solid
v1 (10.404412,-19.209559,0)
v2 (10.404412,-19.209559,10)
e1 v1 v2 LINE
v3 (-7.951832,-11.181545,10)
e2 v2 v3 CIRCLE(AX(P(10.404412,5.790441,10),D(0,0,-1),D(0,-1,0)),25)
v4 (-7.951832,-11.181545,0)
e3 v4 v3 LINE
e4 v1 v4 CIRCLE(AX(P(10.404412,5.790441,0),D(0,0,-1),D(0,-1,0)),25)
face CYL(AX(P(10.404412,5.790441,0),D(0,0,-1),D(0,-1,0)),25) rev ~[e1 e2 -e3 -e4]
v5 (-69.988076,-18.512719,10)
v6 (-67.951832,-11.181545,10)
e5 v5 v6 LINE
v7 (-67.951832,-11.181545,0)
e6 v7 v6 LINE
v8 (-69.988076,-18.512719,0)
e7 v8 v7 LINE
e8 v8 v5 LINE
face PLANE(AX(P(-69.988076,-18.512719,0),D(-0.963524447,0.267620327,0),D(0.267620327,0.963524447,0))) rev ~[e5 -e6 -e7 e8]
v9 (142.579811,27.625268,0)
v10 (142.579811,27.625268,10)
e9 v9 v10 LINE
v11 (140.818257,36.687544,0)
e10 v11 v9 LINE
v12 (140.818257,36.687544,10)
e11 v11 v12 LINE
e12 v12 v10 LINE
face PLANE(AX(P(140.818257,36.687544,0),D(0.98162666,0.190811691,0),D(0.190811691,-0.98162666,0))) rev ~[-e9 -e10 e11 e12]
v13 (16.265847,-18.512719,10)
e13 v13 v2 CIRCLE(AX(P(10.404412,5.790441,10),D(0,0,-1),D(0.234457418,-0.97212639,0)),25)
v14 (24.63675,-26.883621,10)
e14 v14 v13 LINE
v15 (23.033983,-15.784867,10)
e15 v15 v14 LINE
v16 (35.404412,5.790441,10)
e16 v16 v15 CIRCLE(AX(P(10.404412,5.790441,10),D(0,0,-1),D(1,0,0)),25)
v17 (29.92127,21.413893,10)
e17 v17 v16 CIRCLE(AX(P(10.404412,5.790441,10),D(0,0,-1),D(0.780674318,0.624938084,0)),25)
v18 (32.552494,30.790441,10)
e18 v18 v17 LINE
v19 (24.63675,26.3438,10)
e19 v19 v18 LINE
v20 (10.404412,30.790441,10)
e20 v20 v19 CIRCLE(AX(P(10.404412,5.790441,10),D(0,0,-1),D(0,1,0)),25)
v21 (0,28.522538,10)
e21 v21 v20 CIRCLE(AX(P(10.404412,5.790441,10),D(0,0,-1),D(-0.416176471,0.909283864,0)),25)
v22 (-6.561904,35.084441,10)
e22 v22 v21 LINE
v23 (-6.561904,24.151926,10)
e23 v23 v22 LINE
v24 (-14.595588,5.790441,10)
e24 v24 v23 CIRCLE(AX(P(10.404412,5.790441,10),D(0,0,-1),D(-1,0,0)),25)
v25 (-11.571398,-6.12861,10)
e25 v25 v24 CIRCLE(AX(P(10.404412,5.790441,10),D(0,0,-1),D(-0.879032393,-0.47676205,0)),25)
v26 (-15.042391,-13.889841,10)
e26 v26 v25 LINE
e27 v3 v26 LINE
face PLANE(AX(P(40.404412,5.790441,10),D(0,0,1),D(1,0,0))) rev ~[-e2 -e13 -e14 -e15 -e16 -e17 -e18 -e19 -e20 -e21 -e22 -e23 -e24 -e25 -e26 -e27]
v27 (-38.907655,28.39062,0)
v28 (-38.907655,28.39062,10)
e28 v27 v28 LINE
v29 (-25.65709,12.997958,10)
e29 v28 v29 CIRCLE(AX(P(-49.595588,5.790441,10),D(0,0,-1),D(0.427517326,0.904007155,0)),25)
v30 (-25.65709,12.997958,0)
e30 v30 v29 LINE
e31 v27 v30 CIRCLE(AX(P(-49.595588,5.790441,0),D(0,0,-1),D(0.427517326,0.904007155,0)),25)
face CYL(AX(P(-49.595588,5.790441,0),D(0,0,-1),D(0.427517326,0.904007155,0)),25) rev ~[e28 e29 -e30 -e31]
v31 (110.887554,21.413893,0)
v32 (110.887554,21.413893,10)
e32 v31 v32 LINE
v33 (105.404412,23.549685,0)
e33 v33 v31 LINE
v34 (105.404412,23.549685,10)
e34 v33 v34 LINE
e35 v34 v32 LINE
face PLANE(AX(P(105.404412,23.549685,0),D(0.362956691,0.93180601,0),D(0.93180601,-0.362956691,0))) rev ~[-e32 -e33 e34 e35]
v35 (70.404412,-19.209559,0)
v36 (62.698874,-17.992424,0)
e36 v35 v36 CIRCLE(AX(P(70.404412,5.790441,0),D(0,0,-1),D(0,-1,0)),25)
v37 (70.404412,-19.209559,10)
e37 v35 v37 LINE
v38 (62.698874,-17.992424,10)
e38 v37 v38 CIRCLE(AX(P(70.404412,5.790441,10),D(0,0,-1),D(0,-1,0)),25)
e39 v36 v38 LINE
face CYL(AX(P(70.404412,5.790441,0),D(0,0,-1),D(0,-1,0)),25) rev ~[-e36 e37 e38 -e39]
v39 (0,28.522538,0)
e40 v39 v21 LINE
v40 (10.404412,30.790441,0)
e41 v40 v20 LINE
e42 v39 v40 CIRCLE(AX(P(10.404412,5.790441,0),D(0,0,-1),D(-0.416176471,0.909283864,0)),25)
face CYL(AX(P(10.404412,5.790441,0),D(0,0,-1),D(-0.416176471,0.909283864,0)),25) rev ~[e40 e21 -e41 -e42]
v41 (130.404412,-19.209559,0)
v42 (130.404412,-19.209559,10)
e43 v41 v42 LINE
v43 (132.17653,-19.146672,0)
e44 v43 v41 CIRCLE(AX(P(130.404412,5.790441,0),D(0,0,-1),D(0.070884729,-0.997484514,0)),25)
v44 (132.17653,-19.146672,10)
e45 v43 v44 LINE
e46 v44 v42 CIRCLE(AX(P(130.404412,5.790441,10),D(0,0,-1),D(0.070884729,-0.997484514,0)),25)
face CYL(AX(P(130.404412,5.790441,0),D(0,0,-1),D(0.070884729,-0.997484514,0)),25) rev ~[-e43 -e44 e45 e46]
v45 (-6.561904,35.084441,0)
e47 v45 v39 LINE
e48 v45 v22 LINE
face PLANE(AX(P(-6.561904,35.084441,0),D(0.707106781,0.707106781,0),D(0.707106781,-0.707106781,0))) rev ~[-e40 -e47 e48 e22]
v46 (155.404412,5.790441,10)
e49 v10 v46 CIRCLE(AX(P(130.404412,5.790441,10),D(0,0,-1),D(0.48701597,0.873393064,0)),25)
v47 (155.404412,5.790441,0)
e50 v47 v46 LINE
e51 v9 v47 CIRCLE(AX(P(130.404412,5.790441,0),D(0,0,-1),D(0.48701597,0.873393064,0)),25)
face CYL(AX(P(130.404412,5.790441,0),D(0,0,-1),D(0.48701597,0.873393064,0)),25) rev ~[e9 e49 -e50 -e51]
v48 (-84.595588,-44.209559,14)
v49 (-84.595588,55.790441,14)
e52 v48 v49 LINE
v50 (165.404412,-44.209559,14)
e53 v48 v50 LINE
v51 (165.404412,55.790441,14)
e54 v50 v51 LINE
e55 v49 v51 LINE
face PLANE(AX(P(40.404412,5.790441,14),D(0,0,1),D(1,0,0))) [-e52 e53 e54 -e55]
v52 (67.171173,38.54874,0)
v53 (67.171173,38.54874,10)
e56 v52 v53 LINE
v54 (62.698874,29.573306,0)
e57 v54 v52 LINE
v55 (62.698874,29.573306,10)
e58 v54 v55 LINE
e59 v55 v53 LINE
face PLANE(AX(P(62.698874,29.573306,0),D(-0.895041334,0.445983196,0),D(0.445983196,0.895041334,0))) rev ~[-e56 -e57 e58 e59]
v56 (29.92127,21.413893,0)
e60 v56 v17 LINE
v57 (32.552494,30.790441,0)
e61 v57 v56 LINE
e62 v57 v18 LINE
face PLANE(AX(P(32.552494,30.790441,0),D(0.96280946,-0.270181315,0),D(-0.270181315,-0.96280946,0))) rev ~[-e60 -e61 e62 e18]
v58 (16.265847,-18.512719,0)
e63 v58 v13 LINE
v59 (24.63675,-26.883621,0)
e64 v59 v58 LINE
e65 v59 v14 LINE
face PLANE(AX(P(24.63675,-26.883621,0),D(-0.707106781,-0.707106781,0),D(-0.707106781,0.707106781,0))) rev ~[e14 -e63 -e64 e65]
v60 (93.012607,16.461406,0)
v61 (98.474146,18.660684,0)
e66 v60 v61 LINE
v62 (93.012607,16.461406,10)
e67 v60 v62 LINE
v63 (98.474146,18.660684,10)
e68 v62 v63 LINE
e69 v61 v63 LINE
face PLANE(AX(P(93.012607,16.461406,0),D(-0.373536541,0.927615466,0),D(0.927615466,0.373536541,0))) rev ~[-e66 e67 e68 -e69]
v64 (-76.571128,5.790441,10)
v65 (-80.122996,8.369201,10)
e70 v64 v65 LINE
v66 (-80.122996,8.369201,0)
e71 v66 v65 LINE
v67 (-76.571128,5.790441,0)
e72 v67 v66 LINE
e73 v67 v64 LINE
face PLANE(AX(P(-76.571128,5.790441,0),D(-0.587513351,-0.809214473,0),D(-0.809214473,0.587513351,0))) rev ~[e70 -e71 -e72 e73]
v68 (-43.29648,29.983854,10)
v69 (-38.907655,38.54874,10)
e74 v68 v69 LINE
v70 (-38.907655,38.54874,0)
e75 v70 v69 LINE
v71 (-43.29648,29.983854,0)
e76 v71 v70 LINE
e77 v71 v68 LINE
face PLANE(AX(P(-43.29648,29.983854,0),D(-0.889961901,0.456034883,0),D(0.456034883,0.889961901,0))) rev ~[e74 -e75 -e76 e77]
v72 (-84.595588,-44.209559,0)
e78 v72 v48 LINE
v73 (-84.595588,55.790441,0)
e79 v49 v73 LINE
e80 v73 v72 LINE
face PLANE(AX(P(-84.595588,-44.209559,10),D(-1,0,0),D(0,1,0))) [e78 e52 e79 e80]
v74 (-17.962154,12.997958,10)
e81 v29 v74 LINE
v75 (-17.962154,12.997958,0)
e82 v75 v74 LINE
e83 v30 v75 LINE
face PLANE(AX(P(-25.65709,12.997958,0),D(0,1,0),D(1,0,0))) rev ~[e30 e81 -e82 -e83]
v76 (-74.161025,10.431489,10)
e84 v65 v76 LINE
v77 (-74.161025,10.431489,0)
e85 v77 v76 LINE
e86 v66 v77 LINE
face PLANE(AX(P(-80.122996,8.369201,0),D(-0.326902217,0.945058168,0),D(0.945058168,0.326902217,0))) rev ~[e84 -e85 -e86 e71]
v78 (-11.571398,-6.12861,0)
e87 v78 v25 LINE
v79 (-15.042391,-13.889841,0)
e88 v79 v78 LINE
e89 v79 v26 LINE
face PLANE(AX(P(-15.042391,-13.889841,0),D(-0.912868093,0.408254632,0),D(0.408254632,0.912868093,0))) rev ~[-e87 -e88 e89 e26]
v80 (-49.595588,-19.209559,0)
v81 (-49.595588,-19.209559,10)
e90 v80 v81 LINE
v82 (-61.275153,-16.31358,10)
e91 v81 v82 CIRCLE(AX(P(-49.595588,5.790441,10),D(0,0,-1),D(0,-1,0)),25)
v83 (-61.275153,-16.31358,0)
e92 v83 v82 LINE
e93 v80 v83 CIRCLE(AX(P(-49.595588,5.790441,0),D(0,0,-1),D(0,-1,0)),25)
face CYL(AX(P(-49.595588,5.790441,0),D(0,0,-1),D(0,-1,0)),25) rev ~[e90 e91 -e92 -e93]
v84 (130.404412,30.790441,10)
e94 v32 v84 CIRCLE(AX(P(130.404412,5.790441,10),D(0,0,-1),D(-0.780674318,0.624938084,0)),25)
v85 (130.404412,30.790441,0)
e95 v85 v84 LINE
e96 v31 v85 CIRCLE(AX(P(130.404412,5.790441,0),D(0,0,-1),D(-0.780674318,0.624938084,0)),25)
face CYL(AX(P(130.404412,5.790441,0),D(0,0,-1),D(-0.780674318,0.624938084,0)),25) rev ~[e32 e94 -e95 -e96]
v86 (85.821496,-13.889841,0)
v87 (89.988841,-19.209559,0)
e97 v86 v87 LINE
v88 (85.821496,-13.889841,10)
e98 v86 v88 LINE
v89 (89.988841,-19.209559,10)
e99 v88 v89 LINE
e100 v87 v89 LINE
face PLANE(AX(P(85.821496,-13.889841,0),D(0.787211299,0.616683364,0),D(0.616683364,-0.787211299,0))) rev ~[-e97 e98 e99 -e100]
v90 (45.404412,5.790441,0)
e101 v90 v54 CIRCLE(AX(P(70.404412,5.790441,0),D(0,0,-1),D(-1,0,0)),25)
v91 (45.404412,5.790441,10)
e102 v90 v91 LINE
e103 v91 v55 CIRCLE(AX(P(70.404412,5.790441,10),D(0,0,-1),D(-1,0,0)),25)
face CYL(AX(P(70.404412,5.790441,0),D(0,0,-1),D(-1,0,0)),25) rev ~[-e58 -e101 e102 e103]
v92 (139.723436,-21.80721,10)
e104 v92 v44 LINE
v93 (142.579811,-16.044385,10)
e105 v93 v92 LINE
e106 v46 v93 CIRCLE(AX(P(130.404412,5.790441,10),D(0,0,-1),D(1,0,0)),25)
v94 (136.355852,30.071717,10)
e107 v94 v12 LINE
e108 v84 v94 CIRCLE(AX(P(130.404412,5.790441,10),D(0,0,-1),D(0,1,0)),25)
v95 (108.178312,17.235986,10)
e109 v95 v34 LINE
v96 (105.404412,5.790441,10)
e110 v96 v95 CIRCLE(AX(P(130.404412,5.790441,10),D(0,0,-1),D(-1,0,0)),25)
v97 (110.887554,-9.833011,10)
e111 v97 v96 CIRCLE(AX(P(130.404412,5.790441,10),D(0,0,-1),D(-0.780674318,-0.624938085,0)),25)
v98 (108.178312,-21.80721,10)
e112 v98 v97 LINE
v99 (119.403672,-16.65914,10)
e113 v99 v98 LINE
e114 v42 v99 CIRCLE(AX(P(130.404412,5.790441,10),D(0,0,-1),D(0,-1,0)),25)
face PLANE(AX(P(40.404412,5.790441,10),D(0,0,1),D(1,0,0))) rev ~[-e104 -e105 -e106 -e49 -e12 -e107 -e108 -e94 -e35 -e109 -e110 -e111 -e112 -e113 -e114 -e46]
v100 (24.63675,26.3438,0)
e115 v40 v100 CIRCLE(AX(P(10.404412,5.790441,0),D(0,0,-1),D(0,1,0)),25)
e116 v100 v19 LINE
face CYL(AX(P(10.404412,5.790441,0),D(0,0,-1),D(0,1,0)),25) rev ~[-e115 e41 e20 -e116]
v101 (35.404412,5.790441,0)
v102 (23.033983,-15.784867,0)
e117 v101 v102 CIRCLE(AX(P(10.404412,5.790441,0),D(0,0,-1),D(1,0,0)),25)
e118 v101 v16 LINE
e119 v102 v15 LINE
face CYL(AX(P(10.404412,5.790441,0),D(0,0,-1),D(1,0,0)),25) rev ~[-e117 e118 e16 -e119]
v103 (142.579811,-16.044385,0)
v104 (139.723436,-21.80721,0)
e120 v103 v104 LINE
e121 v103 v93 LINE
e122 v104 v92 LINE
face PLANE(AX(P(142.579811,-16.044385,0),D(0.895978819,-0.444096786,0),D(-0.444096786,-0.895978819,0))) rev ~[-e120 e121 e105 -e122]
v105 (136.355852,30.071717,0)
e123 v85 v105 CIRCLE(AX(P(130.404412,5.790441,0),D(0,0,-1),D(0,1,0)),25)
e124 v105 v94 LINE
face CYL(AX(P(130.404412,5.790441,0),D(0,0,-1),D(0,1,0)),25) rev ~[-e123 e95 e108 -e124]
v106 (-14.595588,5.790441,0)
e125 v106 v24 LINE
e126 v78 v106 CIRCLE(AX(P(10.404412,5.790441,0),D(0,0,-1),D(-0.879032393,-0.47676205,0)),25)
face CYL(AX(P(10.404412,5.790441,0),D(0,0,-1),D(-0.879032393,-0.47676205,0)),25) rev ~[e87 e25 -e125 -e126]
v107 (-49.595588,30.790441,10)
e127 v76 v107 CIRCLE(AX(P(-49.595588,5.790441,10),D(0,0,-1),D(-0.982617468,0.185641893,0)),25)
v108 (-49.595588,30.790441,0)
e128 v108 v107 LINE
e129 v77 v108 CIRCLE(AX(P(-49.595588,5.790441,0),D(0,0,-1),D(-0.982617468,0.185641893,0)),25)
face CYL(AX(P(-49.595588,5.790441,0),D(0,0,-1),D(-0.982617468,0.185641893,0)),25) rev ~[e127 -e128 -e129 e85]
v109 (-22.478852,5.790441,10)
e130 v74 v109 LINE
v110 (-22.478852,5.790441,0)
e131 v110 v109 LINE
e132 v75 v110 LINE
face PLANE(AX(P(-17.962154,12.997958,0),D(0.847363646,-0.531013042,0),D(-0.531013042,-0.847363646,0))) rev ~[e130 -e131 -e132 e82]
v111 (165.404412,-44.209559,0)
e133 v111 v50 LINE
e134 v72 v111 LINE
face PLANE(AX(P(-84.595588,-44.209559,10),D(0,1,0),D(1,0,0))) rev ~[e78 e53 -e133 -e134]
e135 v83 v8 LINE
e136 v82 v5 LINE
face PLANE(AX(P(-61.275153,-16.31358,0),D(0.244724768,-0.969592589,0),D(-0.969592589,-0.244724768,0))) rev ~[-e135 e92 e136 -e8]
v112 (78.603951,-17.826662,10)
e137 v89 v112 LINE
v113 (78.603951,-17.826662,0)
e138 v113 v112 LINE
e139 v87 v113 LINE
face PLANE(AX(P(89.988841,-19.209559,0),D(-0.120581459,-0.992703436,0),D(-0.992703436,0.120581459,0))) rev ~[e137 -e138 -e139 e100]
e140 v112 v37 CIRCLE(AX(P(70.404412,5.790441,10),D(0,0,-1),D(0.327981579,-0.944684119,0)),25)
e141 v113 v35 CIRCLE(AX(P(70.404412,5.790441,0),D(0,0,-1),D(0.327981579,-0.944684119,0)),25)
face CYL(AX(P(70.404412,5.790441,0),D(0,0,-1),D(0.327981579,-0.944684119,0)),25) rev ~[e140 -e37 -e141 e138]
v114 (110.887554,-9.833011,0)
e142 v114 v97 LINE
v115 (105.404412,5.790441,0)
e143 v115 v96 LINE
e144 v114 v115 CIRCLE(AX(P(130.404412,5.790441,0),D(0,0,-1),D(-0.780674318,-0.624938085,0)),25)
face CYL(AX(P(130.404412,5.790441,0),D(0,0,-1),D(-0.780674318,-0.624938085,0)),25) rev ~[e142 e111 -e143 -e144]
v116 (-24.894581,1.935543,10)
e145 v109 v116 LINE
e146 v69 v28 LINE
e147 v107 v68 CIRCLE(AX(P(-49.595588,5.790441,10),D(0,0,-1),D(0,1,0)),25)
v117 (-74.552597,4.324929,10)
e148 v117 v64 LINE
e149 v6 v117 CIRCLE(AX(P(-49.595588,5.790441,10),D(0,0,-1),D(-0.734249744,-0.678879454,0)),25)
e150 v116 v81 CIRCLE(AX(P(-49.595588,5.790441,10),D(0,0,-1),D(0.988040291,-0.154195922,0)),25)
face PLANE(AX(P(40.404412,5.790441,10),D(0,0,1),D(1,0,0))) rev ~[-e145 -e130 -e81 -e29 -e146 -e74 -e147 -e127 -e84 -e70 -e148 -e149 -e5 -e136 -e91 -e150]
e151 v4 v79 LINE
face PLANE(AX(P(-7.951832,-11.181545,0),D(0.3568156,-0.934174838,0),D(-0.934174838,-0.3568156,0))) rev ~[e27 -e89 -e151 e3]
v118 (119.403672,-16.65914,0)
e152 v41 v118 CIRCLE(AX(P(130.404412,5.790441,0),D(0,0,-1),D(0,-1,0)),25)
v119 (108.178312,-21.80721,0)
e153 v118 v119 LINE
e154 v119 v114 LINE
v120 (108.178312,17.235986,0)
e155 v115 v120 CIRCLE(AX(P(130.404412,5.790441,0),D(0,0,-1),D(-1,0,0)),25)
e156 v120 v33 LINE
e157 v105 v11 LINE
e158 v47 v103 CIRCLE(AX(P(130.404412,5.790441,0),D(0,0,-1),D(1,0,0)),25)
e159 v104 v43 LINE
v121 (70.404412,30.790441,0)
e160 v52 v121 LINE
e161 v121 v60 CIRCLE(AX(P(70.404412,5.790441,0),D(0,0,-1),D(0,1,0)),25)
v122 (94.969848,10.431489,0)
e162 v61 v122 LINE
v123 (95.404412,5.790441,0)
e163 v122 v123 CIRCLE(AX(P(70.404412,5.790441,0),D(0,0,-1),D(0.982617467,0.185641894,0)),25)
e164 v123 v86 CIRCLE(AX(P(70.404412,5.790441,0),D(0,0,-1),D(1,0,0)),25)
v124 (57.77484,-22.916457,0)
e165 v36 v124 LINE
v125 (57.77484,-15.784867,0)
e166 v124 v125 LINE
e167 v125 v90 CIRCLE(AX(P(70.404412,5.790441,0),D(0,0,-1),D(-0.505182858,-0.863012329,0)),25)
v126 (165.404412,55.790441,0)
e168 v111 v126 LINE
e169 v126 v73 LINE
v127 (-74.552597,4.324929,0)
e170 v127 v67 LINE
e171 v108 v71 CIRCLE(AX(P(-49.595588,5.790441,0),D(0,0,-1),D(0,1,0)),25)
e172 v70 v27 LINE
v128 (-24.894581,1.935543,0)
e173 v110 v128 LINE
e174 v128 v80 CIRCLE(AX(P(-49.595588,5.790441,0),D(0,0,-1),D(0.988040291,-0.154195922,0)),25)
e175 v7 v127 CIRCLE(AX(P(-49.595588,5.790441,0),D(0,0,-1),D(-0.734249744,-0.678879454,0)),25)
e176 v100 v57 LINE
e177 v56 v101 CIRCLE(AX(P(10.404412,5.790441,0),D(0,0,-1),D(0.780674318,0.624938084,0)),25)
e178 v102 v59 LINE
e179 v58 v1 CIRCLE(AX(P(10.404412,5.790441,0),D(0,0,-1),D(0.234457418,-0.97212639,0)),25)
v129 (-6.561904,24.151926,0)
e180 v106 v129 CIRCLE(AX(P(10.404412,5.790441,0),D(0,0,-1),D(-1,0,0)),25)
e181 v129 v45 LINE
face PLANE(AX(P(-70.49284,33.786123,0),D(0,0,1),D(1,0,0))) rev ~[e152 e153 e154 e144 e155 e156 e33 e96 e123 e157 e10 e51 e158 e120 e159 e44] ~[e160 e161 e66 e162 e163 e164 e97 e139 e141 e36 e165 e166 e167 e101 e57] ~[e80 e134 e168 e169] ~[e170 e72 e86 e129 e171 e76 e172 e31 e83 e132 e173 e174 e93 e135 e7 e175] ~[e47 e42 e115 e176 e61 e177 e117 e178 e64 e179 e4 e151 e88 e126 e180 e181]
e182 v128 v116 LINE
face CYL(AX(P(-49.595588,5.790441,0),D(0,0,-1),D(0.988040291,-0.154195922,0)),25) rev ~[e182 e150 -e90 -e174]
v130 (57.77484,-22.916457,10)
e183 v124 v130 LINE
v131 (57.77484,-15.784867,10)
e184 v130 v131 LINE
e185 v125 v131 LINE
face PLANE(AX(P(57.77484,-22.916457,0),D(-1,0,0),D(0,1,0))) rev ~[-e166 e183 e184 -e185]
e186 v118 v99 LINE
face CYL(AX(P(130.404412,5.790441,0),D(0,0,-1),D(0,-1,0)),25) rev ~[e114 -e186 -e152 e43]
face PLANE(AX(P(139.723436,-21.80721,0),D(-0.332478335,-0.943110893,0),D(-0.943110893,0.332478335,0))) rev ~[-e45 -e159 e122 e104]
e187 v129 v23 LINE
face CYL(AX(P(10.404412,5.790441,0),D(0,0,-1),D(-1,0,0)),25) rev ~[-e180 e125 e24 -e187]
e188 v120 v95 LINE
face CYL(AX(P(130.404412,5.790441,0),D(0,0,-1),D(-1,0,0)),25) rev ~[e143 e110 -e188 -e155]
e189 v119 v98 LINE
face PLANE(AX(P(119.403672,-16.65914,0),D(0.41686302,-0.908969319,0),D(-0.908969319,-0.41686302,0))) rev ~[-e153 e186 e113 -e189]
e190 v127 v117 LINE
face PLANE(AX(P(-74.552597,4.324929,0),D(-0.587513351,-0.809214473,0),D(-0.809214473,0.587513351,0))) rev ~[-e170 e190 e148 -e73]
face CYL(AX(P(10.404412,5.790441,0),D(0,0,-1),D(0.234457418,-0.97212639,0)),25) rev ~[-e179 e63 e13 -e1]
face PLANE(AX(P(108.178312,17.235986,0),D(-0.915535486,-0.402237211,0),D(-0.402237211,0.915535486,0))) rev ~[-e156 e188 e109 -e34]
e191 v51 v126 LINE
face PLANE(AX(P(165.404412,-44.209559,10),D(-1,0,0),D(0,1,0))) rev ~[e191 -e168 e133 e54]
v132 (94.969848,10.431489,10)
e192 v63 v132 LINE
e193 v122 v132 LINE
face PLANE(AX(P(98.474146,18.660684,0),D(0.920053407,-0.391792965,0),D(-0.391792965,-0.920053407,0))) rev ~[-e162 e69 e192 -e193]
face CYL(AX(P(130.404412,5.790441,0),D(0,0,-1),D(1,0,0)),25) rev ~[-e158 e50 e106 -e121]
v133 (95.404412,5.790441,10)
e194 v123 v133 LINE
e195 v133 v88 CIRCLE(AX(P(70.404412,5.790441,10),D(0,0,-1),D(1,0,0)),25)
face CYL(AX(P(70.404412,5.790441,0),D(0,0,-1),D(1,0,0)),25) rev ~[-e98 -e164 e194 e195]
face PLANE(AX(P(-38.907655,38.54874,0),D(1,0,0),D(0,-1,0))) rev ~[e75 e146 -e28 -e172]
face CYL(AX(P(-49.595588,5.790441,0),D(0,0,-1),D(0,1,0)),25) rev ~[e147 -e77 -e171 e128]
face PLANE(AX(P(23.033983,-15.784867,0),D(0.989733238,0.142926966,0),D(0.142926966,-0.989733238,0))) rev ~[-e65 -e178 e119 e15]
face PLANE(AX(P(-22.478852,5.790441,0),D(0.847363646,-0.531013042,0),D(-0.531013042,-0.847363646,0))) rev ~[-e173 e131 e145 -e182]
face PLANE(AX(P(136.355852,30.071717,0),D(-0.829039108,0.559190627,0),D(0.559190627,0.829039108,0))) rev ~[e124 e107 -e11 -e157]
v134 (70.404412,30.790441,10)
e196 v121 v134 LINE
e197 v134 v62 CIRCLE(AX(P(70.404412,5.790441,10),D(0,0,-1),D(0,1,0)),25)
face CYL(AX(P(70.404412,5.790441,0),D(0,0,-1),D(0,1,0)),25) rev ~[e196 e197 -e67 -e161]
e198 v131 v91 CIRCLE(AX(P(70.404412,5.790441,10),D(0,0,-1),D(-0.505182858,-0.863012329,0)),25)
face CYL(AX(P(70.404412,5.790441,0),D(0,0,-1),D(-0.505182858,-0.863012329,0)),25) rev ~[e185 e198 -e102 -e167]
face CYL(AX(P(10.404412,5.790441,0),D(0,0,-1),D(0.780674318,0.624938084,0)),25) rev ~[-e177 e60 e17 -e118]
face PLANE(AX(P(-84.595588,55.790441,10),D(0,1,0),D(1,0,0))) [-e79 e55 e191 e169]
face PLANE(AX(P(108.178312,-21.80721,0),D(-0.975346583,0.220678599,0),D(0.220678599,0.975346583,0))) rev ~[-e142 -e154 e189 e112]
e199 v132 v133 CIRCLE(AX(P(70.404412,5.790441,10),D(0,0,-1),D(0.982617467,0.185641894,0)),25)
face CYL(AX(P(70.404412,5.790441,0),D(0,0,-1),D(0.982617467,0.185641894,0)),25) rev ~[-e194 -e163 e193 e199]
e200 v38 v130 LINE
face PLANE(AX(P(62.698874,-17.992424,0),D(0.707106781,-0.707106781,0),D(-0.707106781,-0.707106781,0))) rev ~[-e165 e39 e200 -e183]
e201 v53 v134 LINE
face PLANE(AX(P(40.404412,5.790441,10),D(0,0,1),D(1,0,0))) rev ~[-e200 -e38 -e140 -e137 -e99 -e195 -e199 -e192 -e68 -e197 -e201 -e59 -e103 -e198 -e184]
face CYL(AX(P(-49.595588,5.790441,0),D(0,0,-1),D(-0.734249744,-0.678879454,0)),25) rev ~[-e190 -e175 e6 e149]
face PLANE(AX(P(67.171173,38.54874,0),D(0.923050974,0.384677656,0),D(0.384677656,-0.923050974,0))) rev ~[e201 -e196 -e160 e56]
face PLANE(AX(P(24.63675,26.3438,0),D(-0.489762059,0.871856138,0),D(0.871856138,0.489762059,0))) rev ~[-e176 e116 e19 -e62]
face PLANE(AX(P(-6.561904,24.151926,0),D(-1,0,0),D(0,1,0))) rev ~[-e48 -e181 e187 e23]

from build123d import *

# Parameters (mm, degrees)
BOSS_EXTRUDE2_DEPTH = 10
SKETCH2_W           = 250
SKETCH2_H           = 100
BOSS_EXTRUDE3_DEPTH = 4


with BuildPart() as part:
    # Sketch1 → Boss-Extrude2 (new body)
    with BuildSketch(Plane.XY):
        with BuildLine():
            Line((-49.595588235, 30.790441176), (-49.595588235, 55.790441176))
            Line((-49.595588235, 55.790441176), (-84.595588235, 55.790441176))
            Line((-84.595588235, 55.790441176), (-84.595588235, 5.790441176))
            Line((-84.595588235, 5.790441176), (-76.571127836, 5.790441176))
            Line((-76.571127836, 5.790441176), (-80.122995865, 8.369201143))
            Line((-80.122995865, 8.369201143), (-74.161024923, 10.431488509))
            ThreePointArc((-74.161024923, 10.431488509), (-65.548234046, 25.0391578), (-49.595588235, 30.790441176))
        make_face()
        with BuildLine():
            Line((10.404411765, 55.790441176), (-49.595588235, 55.790441176))
            Line((-49.595588235, 55.790441176), (-49.595588235, 30.790441176))
            ThreePointArc((-49.595588235, 30.790441176), (-46.420318597, 30.587974576), (-43.296479842, 29.983854194))
            Line((-43.296479842, 29.983854194), (-38.907655076, 38.5487403))
            Line((-38.907655076, 38.5487403), (-38.907655076, 28.390620042))
            ThreePointArc((-38.907655076, 28.390620042), (-30.648795615, 22.100531594), (-25.657089919, 12.997957973))
            Line((-25.657089919, 12.997957973), (-17.962154019, 12.997957973))
            Line((-17.962154019, 12.997957973), (-22.478851702, 5.790441176))
            Line((-22.478851702, 5.790441176), (-14.595588235, 5.790441176))
            ThreePointArc((-14.595588235, 5.790441176), (-12.499276658, 15.811471895), (-6.561903703, 24.151926396))
            Line((-6.561903703, 24.151926396), (-6.561903703, 35.084441479))
            Line((-6.561903703, 35.084441479), (0, 28.522537776))
            ThreePointArc((0, 28.522537776), (5.080053353, 30.216886016), (10.404411765, 30.790441176))
            Line((10.404411765, 30.790441176), (10.404411765, 55.790441176))
        make_face()
        with BuildLine():
            Line((70.404411765, 55.790441176), (10.404411765, 55.790441176))
            Line((10.404411765, 55.790441176), (10.404411765, 30.790441176))
            ThreePointArc((10.404411765, 30.790441176), (17.859813508, 29.652900917), (24.63674968, 26.343799964))
            Line((24.63674968, 26.343799964), (32.552494412, 30.790441176))
            Line((32.552494412, 30.790441176), (29.92126971, 21.41389329))
            ThreePointArc((29.92126971, 21.41389329), (33.993831518, 14.069286246), (35.404411765, 5.790441176))
            Line((35.404411765, 5.790441176), (45.404411765, 5.790441176))
            ThreePointArc((45.404411765, 5.790441176), (50.185133178, 20.493528384), (62.698873639, 29.573306483))
            Line((62.698873639, 29.573306483), (67.171172857, 38.5487403))
            Line((67.171172857, 38.5487403), (70.404411765, 30.790441176))
            Line((70.404411765, 30.790441176), (70.404411765, 55.790441176))
        make_face()
        with BuildLine():
            Line((130.404411765, 55.790441176), (70.404411765, 55.790441176))
            Line((70.404411765, 55.790441176), (70.404411765, 30.790441176))
            ThreePointArc((70.404411765, 30.790441176), (83.787720088, 26.906479118), (93.012607471, 16.461405843))
            Line((93.012607471, 16.461405843), (98.474145882, 18.660683713))
            Line((98.474145882, 18.660683713), (94.969848452, 10.431488509))
            ThreePointArc((94.969848452, 10.431488509), (95.295533849, 8.1211152), (95.404411765, 5.790441176))
            Line((95.404411765, 5.790441176), (105.404411765, 5.790441176))
            ThreePointArc((105.404411765, 5.790441176), (106.107781477, 11.678883811), (108.178312298, 17.23598627))
            Line((108.178312298, 17.23598627), (105.404411765, 23.549684511))
            Line((105.404411765, 23.549684511), (110.88755382, 21.41389329))
            ThreePointArc((110.88755382, 21.41389329), (119.578200582, 28.324707338), (130.404411765, 30.790441176))
            Line((130.404411765, 30.790441176), (130.404411765, 55.790441176))
        make_face()
        with BuildLine():
            Line((165.404411765, 55.790441176), (130.404411765, 55.790441176))
            Line((130.404411765, 55.790441176), (130.404411765, 30.790441176))
            ThreePointArc((130.404411765, 30.790441176), (133.401752606, 30.610109746), (136.355852267, 30.071717007))
            Line((136.355852267, 30.071717007), (140.818257218, 36.687543597))
            Line((140.818257218, 36.687543597), (142.579811014, 27.625267787))
            ThreePointArc((142.579811014, 27.625267787), (151.961139035, 18.451701358), (155.404411765, 5.790441176))
            Line((155.404411765, 5.790441176), (165.404411765, 5.790441176))
            Line((165.404411765, 5.790441176), (165.404411765, 55.790441176))
        make_face()
        with BuildLine():
            Line((165.404411765, -44.209558824), (165.404411765, 5.790441176))
            Line((165.404411765, 5.790441176), (155.404411765, 5.790441176))
            ThreePointArc((155.404411765, 5.790441176), (151.961139035, -6.870819005), (142.579811014, -16.044385434))
            Line((142.579811014, -16.044385434), (139.723435627, -21.807209952))
            Line((139.723435627, -21.807209952), (132.176529952, -19.14667167))
            ThreePointArc((132.176529952, -19.14667167), (131.291028602, -19.193832089), (130.404411765, -19.209558824))
            Line((130.404411765, -19.209558824), (130.404411765, -44.209558824))
            Line((130.404411765, -44.209558824), (165.404411765, -44.209558824))
        make_face()
        with BuildLine():
            ThreePointArc((78.603951233, -17.826661789), (74.562080934, -18.861410419), (70.404411765, -19.209558824))
            Line((70.404411765, -19.209558824), (70.404411765, -44.209558824))
            Line((70.404411765, -44.209558824), (130.404411765, -44.209558824))
            Line((130.404411765, -44.209558824), (130.404411765, -19.209558824))
            ThreePointArc((130.404411765, -19.209558824), (124.758153779, -18.563609221), (119.403671642, -16.659140484))
            Line((119.403671642, -16.659140484), (108.178312298, -21.807209952))
            Line((108.178312298, -21.807209952), (110.88755382, -9.833010937))
            ThreePointArc((110.88755382, -9.833010937), (106.814992011, -2.488403893), (105.404411765, 5.790441176))
            Line((105.404411765, 5.790441176), (95.404411765, 5.790441176))
            ThreePointArc((95.404411765, 5.790441176), (92.88136777, -5.154258396), (85.821495865, -13.889841287))
            Line((85.821495865, -13.889841287), (89.988841167, -19.209558824))
            Line((89.988841167, -19.209558824), (78.603951233, -17.826661789))
        make_face()
        with BuildLine():
            ThreePointArc((16.26584722, -18.512718585), (13.35576789, -19.034737514), (10.404411765, -19.209558824))
            Line((10.404411765, -19.209558824), (10.404411765, -44.209558824))
            Line((10.404411765, -44.209558824), (70.404411765, -44.209558824))
            Line((70.404411765, -44.209558824), (70.404411765, -19.209558824))
            ThreePointArc((70.404411765, -19.209558824), (66.503875434, -18.903400492), (62.698873639, -17.99242413))
            Line((62.698873639, -17.99242413), (57.774840306, -22.916457463))
            Line((57.774840306, -22.916457463), (57.774840306, -15.784867043))
            ThreePointArc((57.774840306, -15.784867043), (48.716404866, -6.644604331), (45.404411765, 5.790441176))
            Line((45.404411765, 5.790441176), (35.404411765, 5.790441176))
            ThreePointArc((35.404411765, 5.790441176), (32.092418663, -6.644604331), (23.033983223, -15.784867043))
            Line((23.033983223, -15.784867043), (24.63674968, -26.883621045))
            Line((24.63674968, -26.883621045), (16.26584722, -18.512718585))
        make_face()
        with BuildLine():
            ThreePointArc((-24.894580949, 1.935543121), (-33.337858557, -13.20129981), (-49.595588235, -19.209558824))
            Line((-49.595588235, -19.209558824), (-49.595588235, -44.209558824))
            Line((-49.595588235, -44.209558824), (10.404411765, -44.209558824))
            Line((10.404411765, -44.209558824), (10.404411765, -19.209558824))
            ThreePointArc((10.404411765, -19.209558824), (0.386918535, -17.114794674), (-7.951831841, -11.181545175))
            Line((-7.951831841, -11.181545175), (-15.042390882, -13.889841287))
            Line((-15.042390882, -13.889841287), (-11.571398063, -6.128610062))
            ThreePointArc((-11.571398063, -6.128610062), (-13.827749155, -0.357922603), (-14.595588235, 5.790441176))
            Line((-14.595588235, 5.790441176), (-22.478851702, 5.790441176))
            Line((-22.478851702, 5.790441176), (-24.894580949, 1.935543121))
        make_face()
        with BuildLine():
            Line((-76.571127836, 5.790441176), (-84.595588235, 5.790441176))
            Line((-84.595588235, 5.790441176), (-84.595588235, -44.209558824))
            Line((-84.595588235, -44.209558824), (-49.595588235, -44.209558824))
            Line((-49.595588235, -44.209558824), (-49.595588235, -19.209558824))
            ThreePointArc((-49.595588235, -19.209558824), (-55.612209406, -18.474765802), (-61.275152877, -16.313580398))
            Line((-61.275152877, -16.313580398), (-69.988075999, -18.512718585))
            Line((-69.988075999, -18.512718585), (-67.951831841, -11.181545175))
            ThreePointArc((-67.951831841, -11.181545175), (-72.598243173, -4.001283177), (-74.552596729, 4.324928615))
            Line((-74.552596729, 4.324928615), (-76.571127836, 5.790441176))
        make_face()
    extrude(amount=BOSS_EXTRUDE2_DEPTH)

    # Sketch2 → Boss-Extrude3 (add)
    with BuildSketch(Plane.XY.offset(10)):
        with Locations((40.404411765, 5.790441176)):
            Rectangle(SKETCH2_W, SKETCH2_H)
    extrude(amount=BOSS_EXTRUDE3_DEPTH)


solid = part.part
